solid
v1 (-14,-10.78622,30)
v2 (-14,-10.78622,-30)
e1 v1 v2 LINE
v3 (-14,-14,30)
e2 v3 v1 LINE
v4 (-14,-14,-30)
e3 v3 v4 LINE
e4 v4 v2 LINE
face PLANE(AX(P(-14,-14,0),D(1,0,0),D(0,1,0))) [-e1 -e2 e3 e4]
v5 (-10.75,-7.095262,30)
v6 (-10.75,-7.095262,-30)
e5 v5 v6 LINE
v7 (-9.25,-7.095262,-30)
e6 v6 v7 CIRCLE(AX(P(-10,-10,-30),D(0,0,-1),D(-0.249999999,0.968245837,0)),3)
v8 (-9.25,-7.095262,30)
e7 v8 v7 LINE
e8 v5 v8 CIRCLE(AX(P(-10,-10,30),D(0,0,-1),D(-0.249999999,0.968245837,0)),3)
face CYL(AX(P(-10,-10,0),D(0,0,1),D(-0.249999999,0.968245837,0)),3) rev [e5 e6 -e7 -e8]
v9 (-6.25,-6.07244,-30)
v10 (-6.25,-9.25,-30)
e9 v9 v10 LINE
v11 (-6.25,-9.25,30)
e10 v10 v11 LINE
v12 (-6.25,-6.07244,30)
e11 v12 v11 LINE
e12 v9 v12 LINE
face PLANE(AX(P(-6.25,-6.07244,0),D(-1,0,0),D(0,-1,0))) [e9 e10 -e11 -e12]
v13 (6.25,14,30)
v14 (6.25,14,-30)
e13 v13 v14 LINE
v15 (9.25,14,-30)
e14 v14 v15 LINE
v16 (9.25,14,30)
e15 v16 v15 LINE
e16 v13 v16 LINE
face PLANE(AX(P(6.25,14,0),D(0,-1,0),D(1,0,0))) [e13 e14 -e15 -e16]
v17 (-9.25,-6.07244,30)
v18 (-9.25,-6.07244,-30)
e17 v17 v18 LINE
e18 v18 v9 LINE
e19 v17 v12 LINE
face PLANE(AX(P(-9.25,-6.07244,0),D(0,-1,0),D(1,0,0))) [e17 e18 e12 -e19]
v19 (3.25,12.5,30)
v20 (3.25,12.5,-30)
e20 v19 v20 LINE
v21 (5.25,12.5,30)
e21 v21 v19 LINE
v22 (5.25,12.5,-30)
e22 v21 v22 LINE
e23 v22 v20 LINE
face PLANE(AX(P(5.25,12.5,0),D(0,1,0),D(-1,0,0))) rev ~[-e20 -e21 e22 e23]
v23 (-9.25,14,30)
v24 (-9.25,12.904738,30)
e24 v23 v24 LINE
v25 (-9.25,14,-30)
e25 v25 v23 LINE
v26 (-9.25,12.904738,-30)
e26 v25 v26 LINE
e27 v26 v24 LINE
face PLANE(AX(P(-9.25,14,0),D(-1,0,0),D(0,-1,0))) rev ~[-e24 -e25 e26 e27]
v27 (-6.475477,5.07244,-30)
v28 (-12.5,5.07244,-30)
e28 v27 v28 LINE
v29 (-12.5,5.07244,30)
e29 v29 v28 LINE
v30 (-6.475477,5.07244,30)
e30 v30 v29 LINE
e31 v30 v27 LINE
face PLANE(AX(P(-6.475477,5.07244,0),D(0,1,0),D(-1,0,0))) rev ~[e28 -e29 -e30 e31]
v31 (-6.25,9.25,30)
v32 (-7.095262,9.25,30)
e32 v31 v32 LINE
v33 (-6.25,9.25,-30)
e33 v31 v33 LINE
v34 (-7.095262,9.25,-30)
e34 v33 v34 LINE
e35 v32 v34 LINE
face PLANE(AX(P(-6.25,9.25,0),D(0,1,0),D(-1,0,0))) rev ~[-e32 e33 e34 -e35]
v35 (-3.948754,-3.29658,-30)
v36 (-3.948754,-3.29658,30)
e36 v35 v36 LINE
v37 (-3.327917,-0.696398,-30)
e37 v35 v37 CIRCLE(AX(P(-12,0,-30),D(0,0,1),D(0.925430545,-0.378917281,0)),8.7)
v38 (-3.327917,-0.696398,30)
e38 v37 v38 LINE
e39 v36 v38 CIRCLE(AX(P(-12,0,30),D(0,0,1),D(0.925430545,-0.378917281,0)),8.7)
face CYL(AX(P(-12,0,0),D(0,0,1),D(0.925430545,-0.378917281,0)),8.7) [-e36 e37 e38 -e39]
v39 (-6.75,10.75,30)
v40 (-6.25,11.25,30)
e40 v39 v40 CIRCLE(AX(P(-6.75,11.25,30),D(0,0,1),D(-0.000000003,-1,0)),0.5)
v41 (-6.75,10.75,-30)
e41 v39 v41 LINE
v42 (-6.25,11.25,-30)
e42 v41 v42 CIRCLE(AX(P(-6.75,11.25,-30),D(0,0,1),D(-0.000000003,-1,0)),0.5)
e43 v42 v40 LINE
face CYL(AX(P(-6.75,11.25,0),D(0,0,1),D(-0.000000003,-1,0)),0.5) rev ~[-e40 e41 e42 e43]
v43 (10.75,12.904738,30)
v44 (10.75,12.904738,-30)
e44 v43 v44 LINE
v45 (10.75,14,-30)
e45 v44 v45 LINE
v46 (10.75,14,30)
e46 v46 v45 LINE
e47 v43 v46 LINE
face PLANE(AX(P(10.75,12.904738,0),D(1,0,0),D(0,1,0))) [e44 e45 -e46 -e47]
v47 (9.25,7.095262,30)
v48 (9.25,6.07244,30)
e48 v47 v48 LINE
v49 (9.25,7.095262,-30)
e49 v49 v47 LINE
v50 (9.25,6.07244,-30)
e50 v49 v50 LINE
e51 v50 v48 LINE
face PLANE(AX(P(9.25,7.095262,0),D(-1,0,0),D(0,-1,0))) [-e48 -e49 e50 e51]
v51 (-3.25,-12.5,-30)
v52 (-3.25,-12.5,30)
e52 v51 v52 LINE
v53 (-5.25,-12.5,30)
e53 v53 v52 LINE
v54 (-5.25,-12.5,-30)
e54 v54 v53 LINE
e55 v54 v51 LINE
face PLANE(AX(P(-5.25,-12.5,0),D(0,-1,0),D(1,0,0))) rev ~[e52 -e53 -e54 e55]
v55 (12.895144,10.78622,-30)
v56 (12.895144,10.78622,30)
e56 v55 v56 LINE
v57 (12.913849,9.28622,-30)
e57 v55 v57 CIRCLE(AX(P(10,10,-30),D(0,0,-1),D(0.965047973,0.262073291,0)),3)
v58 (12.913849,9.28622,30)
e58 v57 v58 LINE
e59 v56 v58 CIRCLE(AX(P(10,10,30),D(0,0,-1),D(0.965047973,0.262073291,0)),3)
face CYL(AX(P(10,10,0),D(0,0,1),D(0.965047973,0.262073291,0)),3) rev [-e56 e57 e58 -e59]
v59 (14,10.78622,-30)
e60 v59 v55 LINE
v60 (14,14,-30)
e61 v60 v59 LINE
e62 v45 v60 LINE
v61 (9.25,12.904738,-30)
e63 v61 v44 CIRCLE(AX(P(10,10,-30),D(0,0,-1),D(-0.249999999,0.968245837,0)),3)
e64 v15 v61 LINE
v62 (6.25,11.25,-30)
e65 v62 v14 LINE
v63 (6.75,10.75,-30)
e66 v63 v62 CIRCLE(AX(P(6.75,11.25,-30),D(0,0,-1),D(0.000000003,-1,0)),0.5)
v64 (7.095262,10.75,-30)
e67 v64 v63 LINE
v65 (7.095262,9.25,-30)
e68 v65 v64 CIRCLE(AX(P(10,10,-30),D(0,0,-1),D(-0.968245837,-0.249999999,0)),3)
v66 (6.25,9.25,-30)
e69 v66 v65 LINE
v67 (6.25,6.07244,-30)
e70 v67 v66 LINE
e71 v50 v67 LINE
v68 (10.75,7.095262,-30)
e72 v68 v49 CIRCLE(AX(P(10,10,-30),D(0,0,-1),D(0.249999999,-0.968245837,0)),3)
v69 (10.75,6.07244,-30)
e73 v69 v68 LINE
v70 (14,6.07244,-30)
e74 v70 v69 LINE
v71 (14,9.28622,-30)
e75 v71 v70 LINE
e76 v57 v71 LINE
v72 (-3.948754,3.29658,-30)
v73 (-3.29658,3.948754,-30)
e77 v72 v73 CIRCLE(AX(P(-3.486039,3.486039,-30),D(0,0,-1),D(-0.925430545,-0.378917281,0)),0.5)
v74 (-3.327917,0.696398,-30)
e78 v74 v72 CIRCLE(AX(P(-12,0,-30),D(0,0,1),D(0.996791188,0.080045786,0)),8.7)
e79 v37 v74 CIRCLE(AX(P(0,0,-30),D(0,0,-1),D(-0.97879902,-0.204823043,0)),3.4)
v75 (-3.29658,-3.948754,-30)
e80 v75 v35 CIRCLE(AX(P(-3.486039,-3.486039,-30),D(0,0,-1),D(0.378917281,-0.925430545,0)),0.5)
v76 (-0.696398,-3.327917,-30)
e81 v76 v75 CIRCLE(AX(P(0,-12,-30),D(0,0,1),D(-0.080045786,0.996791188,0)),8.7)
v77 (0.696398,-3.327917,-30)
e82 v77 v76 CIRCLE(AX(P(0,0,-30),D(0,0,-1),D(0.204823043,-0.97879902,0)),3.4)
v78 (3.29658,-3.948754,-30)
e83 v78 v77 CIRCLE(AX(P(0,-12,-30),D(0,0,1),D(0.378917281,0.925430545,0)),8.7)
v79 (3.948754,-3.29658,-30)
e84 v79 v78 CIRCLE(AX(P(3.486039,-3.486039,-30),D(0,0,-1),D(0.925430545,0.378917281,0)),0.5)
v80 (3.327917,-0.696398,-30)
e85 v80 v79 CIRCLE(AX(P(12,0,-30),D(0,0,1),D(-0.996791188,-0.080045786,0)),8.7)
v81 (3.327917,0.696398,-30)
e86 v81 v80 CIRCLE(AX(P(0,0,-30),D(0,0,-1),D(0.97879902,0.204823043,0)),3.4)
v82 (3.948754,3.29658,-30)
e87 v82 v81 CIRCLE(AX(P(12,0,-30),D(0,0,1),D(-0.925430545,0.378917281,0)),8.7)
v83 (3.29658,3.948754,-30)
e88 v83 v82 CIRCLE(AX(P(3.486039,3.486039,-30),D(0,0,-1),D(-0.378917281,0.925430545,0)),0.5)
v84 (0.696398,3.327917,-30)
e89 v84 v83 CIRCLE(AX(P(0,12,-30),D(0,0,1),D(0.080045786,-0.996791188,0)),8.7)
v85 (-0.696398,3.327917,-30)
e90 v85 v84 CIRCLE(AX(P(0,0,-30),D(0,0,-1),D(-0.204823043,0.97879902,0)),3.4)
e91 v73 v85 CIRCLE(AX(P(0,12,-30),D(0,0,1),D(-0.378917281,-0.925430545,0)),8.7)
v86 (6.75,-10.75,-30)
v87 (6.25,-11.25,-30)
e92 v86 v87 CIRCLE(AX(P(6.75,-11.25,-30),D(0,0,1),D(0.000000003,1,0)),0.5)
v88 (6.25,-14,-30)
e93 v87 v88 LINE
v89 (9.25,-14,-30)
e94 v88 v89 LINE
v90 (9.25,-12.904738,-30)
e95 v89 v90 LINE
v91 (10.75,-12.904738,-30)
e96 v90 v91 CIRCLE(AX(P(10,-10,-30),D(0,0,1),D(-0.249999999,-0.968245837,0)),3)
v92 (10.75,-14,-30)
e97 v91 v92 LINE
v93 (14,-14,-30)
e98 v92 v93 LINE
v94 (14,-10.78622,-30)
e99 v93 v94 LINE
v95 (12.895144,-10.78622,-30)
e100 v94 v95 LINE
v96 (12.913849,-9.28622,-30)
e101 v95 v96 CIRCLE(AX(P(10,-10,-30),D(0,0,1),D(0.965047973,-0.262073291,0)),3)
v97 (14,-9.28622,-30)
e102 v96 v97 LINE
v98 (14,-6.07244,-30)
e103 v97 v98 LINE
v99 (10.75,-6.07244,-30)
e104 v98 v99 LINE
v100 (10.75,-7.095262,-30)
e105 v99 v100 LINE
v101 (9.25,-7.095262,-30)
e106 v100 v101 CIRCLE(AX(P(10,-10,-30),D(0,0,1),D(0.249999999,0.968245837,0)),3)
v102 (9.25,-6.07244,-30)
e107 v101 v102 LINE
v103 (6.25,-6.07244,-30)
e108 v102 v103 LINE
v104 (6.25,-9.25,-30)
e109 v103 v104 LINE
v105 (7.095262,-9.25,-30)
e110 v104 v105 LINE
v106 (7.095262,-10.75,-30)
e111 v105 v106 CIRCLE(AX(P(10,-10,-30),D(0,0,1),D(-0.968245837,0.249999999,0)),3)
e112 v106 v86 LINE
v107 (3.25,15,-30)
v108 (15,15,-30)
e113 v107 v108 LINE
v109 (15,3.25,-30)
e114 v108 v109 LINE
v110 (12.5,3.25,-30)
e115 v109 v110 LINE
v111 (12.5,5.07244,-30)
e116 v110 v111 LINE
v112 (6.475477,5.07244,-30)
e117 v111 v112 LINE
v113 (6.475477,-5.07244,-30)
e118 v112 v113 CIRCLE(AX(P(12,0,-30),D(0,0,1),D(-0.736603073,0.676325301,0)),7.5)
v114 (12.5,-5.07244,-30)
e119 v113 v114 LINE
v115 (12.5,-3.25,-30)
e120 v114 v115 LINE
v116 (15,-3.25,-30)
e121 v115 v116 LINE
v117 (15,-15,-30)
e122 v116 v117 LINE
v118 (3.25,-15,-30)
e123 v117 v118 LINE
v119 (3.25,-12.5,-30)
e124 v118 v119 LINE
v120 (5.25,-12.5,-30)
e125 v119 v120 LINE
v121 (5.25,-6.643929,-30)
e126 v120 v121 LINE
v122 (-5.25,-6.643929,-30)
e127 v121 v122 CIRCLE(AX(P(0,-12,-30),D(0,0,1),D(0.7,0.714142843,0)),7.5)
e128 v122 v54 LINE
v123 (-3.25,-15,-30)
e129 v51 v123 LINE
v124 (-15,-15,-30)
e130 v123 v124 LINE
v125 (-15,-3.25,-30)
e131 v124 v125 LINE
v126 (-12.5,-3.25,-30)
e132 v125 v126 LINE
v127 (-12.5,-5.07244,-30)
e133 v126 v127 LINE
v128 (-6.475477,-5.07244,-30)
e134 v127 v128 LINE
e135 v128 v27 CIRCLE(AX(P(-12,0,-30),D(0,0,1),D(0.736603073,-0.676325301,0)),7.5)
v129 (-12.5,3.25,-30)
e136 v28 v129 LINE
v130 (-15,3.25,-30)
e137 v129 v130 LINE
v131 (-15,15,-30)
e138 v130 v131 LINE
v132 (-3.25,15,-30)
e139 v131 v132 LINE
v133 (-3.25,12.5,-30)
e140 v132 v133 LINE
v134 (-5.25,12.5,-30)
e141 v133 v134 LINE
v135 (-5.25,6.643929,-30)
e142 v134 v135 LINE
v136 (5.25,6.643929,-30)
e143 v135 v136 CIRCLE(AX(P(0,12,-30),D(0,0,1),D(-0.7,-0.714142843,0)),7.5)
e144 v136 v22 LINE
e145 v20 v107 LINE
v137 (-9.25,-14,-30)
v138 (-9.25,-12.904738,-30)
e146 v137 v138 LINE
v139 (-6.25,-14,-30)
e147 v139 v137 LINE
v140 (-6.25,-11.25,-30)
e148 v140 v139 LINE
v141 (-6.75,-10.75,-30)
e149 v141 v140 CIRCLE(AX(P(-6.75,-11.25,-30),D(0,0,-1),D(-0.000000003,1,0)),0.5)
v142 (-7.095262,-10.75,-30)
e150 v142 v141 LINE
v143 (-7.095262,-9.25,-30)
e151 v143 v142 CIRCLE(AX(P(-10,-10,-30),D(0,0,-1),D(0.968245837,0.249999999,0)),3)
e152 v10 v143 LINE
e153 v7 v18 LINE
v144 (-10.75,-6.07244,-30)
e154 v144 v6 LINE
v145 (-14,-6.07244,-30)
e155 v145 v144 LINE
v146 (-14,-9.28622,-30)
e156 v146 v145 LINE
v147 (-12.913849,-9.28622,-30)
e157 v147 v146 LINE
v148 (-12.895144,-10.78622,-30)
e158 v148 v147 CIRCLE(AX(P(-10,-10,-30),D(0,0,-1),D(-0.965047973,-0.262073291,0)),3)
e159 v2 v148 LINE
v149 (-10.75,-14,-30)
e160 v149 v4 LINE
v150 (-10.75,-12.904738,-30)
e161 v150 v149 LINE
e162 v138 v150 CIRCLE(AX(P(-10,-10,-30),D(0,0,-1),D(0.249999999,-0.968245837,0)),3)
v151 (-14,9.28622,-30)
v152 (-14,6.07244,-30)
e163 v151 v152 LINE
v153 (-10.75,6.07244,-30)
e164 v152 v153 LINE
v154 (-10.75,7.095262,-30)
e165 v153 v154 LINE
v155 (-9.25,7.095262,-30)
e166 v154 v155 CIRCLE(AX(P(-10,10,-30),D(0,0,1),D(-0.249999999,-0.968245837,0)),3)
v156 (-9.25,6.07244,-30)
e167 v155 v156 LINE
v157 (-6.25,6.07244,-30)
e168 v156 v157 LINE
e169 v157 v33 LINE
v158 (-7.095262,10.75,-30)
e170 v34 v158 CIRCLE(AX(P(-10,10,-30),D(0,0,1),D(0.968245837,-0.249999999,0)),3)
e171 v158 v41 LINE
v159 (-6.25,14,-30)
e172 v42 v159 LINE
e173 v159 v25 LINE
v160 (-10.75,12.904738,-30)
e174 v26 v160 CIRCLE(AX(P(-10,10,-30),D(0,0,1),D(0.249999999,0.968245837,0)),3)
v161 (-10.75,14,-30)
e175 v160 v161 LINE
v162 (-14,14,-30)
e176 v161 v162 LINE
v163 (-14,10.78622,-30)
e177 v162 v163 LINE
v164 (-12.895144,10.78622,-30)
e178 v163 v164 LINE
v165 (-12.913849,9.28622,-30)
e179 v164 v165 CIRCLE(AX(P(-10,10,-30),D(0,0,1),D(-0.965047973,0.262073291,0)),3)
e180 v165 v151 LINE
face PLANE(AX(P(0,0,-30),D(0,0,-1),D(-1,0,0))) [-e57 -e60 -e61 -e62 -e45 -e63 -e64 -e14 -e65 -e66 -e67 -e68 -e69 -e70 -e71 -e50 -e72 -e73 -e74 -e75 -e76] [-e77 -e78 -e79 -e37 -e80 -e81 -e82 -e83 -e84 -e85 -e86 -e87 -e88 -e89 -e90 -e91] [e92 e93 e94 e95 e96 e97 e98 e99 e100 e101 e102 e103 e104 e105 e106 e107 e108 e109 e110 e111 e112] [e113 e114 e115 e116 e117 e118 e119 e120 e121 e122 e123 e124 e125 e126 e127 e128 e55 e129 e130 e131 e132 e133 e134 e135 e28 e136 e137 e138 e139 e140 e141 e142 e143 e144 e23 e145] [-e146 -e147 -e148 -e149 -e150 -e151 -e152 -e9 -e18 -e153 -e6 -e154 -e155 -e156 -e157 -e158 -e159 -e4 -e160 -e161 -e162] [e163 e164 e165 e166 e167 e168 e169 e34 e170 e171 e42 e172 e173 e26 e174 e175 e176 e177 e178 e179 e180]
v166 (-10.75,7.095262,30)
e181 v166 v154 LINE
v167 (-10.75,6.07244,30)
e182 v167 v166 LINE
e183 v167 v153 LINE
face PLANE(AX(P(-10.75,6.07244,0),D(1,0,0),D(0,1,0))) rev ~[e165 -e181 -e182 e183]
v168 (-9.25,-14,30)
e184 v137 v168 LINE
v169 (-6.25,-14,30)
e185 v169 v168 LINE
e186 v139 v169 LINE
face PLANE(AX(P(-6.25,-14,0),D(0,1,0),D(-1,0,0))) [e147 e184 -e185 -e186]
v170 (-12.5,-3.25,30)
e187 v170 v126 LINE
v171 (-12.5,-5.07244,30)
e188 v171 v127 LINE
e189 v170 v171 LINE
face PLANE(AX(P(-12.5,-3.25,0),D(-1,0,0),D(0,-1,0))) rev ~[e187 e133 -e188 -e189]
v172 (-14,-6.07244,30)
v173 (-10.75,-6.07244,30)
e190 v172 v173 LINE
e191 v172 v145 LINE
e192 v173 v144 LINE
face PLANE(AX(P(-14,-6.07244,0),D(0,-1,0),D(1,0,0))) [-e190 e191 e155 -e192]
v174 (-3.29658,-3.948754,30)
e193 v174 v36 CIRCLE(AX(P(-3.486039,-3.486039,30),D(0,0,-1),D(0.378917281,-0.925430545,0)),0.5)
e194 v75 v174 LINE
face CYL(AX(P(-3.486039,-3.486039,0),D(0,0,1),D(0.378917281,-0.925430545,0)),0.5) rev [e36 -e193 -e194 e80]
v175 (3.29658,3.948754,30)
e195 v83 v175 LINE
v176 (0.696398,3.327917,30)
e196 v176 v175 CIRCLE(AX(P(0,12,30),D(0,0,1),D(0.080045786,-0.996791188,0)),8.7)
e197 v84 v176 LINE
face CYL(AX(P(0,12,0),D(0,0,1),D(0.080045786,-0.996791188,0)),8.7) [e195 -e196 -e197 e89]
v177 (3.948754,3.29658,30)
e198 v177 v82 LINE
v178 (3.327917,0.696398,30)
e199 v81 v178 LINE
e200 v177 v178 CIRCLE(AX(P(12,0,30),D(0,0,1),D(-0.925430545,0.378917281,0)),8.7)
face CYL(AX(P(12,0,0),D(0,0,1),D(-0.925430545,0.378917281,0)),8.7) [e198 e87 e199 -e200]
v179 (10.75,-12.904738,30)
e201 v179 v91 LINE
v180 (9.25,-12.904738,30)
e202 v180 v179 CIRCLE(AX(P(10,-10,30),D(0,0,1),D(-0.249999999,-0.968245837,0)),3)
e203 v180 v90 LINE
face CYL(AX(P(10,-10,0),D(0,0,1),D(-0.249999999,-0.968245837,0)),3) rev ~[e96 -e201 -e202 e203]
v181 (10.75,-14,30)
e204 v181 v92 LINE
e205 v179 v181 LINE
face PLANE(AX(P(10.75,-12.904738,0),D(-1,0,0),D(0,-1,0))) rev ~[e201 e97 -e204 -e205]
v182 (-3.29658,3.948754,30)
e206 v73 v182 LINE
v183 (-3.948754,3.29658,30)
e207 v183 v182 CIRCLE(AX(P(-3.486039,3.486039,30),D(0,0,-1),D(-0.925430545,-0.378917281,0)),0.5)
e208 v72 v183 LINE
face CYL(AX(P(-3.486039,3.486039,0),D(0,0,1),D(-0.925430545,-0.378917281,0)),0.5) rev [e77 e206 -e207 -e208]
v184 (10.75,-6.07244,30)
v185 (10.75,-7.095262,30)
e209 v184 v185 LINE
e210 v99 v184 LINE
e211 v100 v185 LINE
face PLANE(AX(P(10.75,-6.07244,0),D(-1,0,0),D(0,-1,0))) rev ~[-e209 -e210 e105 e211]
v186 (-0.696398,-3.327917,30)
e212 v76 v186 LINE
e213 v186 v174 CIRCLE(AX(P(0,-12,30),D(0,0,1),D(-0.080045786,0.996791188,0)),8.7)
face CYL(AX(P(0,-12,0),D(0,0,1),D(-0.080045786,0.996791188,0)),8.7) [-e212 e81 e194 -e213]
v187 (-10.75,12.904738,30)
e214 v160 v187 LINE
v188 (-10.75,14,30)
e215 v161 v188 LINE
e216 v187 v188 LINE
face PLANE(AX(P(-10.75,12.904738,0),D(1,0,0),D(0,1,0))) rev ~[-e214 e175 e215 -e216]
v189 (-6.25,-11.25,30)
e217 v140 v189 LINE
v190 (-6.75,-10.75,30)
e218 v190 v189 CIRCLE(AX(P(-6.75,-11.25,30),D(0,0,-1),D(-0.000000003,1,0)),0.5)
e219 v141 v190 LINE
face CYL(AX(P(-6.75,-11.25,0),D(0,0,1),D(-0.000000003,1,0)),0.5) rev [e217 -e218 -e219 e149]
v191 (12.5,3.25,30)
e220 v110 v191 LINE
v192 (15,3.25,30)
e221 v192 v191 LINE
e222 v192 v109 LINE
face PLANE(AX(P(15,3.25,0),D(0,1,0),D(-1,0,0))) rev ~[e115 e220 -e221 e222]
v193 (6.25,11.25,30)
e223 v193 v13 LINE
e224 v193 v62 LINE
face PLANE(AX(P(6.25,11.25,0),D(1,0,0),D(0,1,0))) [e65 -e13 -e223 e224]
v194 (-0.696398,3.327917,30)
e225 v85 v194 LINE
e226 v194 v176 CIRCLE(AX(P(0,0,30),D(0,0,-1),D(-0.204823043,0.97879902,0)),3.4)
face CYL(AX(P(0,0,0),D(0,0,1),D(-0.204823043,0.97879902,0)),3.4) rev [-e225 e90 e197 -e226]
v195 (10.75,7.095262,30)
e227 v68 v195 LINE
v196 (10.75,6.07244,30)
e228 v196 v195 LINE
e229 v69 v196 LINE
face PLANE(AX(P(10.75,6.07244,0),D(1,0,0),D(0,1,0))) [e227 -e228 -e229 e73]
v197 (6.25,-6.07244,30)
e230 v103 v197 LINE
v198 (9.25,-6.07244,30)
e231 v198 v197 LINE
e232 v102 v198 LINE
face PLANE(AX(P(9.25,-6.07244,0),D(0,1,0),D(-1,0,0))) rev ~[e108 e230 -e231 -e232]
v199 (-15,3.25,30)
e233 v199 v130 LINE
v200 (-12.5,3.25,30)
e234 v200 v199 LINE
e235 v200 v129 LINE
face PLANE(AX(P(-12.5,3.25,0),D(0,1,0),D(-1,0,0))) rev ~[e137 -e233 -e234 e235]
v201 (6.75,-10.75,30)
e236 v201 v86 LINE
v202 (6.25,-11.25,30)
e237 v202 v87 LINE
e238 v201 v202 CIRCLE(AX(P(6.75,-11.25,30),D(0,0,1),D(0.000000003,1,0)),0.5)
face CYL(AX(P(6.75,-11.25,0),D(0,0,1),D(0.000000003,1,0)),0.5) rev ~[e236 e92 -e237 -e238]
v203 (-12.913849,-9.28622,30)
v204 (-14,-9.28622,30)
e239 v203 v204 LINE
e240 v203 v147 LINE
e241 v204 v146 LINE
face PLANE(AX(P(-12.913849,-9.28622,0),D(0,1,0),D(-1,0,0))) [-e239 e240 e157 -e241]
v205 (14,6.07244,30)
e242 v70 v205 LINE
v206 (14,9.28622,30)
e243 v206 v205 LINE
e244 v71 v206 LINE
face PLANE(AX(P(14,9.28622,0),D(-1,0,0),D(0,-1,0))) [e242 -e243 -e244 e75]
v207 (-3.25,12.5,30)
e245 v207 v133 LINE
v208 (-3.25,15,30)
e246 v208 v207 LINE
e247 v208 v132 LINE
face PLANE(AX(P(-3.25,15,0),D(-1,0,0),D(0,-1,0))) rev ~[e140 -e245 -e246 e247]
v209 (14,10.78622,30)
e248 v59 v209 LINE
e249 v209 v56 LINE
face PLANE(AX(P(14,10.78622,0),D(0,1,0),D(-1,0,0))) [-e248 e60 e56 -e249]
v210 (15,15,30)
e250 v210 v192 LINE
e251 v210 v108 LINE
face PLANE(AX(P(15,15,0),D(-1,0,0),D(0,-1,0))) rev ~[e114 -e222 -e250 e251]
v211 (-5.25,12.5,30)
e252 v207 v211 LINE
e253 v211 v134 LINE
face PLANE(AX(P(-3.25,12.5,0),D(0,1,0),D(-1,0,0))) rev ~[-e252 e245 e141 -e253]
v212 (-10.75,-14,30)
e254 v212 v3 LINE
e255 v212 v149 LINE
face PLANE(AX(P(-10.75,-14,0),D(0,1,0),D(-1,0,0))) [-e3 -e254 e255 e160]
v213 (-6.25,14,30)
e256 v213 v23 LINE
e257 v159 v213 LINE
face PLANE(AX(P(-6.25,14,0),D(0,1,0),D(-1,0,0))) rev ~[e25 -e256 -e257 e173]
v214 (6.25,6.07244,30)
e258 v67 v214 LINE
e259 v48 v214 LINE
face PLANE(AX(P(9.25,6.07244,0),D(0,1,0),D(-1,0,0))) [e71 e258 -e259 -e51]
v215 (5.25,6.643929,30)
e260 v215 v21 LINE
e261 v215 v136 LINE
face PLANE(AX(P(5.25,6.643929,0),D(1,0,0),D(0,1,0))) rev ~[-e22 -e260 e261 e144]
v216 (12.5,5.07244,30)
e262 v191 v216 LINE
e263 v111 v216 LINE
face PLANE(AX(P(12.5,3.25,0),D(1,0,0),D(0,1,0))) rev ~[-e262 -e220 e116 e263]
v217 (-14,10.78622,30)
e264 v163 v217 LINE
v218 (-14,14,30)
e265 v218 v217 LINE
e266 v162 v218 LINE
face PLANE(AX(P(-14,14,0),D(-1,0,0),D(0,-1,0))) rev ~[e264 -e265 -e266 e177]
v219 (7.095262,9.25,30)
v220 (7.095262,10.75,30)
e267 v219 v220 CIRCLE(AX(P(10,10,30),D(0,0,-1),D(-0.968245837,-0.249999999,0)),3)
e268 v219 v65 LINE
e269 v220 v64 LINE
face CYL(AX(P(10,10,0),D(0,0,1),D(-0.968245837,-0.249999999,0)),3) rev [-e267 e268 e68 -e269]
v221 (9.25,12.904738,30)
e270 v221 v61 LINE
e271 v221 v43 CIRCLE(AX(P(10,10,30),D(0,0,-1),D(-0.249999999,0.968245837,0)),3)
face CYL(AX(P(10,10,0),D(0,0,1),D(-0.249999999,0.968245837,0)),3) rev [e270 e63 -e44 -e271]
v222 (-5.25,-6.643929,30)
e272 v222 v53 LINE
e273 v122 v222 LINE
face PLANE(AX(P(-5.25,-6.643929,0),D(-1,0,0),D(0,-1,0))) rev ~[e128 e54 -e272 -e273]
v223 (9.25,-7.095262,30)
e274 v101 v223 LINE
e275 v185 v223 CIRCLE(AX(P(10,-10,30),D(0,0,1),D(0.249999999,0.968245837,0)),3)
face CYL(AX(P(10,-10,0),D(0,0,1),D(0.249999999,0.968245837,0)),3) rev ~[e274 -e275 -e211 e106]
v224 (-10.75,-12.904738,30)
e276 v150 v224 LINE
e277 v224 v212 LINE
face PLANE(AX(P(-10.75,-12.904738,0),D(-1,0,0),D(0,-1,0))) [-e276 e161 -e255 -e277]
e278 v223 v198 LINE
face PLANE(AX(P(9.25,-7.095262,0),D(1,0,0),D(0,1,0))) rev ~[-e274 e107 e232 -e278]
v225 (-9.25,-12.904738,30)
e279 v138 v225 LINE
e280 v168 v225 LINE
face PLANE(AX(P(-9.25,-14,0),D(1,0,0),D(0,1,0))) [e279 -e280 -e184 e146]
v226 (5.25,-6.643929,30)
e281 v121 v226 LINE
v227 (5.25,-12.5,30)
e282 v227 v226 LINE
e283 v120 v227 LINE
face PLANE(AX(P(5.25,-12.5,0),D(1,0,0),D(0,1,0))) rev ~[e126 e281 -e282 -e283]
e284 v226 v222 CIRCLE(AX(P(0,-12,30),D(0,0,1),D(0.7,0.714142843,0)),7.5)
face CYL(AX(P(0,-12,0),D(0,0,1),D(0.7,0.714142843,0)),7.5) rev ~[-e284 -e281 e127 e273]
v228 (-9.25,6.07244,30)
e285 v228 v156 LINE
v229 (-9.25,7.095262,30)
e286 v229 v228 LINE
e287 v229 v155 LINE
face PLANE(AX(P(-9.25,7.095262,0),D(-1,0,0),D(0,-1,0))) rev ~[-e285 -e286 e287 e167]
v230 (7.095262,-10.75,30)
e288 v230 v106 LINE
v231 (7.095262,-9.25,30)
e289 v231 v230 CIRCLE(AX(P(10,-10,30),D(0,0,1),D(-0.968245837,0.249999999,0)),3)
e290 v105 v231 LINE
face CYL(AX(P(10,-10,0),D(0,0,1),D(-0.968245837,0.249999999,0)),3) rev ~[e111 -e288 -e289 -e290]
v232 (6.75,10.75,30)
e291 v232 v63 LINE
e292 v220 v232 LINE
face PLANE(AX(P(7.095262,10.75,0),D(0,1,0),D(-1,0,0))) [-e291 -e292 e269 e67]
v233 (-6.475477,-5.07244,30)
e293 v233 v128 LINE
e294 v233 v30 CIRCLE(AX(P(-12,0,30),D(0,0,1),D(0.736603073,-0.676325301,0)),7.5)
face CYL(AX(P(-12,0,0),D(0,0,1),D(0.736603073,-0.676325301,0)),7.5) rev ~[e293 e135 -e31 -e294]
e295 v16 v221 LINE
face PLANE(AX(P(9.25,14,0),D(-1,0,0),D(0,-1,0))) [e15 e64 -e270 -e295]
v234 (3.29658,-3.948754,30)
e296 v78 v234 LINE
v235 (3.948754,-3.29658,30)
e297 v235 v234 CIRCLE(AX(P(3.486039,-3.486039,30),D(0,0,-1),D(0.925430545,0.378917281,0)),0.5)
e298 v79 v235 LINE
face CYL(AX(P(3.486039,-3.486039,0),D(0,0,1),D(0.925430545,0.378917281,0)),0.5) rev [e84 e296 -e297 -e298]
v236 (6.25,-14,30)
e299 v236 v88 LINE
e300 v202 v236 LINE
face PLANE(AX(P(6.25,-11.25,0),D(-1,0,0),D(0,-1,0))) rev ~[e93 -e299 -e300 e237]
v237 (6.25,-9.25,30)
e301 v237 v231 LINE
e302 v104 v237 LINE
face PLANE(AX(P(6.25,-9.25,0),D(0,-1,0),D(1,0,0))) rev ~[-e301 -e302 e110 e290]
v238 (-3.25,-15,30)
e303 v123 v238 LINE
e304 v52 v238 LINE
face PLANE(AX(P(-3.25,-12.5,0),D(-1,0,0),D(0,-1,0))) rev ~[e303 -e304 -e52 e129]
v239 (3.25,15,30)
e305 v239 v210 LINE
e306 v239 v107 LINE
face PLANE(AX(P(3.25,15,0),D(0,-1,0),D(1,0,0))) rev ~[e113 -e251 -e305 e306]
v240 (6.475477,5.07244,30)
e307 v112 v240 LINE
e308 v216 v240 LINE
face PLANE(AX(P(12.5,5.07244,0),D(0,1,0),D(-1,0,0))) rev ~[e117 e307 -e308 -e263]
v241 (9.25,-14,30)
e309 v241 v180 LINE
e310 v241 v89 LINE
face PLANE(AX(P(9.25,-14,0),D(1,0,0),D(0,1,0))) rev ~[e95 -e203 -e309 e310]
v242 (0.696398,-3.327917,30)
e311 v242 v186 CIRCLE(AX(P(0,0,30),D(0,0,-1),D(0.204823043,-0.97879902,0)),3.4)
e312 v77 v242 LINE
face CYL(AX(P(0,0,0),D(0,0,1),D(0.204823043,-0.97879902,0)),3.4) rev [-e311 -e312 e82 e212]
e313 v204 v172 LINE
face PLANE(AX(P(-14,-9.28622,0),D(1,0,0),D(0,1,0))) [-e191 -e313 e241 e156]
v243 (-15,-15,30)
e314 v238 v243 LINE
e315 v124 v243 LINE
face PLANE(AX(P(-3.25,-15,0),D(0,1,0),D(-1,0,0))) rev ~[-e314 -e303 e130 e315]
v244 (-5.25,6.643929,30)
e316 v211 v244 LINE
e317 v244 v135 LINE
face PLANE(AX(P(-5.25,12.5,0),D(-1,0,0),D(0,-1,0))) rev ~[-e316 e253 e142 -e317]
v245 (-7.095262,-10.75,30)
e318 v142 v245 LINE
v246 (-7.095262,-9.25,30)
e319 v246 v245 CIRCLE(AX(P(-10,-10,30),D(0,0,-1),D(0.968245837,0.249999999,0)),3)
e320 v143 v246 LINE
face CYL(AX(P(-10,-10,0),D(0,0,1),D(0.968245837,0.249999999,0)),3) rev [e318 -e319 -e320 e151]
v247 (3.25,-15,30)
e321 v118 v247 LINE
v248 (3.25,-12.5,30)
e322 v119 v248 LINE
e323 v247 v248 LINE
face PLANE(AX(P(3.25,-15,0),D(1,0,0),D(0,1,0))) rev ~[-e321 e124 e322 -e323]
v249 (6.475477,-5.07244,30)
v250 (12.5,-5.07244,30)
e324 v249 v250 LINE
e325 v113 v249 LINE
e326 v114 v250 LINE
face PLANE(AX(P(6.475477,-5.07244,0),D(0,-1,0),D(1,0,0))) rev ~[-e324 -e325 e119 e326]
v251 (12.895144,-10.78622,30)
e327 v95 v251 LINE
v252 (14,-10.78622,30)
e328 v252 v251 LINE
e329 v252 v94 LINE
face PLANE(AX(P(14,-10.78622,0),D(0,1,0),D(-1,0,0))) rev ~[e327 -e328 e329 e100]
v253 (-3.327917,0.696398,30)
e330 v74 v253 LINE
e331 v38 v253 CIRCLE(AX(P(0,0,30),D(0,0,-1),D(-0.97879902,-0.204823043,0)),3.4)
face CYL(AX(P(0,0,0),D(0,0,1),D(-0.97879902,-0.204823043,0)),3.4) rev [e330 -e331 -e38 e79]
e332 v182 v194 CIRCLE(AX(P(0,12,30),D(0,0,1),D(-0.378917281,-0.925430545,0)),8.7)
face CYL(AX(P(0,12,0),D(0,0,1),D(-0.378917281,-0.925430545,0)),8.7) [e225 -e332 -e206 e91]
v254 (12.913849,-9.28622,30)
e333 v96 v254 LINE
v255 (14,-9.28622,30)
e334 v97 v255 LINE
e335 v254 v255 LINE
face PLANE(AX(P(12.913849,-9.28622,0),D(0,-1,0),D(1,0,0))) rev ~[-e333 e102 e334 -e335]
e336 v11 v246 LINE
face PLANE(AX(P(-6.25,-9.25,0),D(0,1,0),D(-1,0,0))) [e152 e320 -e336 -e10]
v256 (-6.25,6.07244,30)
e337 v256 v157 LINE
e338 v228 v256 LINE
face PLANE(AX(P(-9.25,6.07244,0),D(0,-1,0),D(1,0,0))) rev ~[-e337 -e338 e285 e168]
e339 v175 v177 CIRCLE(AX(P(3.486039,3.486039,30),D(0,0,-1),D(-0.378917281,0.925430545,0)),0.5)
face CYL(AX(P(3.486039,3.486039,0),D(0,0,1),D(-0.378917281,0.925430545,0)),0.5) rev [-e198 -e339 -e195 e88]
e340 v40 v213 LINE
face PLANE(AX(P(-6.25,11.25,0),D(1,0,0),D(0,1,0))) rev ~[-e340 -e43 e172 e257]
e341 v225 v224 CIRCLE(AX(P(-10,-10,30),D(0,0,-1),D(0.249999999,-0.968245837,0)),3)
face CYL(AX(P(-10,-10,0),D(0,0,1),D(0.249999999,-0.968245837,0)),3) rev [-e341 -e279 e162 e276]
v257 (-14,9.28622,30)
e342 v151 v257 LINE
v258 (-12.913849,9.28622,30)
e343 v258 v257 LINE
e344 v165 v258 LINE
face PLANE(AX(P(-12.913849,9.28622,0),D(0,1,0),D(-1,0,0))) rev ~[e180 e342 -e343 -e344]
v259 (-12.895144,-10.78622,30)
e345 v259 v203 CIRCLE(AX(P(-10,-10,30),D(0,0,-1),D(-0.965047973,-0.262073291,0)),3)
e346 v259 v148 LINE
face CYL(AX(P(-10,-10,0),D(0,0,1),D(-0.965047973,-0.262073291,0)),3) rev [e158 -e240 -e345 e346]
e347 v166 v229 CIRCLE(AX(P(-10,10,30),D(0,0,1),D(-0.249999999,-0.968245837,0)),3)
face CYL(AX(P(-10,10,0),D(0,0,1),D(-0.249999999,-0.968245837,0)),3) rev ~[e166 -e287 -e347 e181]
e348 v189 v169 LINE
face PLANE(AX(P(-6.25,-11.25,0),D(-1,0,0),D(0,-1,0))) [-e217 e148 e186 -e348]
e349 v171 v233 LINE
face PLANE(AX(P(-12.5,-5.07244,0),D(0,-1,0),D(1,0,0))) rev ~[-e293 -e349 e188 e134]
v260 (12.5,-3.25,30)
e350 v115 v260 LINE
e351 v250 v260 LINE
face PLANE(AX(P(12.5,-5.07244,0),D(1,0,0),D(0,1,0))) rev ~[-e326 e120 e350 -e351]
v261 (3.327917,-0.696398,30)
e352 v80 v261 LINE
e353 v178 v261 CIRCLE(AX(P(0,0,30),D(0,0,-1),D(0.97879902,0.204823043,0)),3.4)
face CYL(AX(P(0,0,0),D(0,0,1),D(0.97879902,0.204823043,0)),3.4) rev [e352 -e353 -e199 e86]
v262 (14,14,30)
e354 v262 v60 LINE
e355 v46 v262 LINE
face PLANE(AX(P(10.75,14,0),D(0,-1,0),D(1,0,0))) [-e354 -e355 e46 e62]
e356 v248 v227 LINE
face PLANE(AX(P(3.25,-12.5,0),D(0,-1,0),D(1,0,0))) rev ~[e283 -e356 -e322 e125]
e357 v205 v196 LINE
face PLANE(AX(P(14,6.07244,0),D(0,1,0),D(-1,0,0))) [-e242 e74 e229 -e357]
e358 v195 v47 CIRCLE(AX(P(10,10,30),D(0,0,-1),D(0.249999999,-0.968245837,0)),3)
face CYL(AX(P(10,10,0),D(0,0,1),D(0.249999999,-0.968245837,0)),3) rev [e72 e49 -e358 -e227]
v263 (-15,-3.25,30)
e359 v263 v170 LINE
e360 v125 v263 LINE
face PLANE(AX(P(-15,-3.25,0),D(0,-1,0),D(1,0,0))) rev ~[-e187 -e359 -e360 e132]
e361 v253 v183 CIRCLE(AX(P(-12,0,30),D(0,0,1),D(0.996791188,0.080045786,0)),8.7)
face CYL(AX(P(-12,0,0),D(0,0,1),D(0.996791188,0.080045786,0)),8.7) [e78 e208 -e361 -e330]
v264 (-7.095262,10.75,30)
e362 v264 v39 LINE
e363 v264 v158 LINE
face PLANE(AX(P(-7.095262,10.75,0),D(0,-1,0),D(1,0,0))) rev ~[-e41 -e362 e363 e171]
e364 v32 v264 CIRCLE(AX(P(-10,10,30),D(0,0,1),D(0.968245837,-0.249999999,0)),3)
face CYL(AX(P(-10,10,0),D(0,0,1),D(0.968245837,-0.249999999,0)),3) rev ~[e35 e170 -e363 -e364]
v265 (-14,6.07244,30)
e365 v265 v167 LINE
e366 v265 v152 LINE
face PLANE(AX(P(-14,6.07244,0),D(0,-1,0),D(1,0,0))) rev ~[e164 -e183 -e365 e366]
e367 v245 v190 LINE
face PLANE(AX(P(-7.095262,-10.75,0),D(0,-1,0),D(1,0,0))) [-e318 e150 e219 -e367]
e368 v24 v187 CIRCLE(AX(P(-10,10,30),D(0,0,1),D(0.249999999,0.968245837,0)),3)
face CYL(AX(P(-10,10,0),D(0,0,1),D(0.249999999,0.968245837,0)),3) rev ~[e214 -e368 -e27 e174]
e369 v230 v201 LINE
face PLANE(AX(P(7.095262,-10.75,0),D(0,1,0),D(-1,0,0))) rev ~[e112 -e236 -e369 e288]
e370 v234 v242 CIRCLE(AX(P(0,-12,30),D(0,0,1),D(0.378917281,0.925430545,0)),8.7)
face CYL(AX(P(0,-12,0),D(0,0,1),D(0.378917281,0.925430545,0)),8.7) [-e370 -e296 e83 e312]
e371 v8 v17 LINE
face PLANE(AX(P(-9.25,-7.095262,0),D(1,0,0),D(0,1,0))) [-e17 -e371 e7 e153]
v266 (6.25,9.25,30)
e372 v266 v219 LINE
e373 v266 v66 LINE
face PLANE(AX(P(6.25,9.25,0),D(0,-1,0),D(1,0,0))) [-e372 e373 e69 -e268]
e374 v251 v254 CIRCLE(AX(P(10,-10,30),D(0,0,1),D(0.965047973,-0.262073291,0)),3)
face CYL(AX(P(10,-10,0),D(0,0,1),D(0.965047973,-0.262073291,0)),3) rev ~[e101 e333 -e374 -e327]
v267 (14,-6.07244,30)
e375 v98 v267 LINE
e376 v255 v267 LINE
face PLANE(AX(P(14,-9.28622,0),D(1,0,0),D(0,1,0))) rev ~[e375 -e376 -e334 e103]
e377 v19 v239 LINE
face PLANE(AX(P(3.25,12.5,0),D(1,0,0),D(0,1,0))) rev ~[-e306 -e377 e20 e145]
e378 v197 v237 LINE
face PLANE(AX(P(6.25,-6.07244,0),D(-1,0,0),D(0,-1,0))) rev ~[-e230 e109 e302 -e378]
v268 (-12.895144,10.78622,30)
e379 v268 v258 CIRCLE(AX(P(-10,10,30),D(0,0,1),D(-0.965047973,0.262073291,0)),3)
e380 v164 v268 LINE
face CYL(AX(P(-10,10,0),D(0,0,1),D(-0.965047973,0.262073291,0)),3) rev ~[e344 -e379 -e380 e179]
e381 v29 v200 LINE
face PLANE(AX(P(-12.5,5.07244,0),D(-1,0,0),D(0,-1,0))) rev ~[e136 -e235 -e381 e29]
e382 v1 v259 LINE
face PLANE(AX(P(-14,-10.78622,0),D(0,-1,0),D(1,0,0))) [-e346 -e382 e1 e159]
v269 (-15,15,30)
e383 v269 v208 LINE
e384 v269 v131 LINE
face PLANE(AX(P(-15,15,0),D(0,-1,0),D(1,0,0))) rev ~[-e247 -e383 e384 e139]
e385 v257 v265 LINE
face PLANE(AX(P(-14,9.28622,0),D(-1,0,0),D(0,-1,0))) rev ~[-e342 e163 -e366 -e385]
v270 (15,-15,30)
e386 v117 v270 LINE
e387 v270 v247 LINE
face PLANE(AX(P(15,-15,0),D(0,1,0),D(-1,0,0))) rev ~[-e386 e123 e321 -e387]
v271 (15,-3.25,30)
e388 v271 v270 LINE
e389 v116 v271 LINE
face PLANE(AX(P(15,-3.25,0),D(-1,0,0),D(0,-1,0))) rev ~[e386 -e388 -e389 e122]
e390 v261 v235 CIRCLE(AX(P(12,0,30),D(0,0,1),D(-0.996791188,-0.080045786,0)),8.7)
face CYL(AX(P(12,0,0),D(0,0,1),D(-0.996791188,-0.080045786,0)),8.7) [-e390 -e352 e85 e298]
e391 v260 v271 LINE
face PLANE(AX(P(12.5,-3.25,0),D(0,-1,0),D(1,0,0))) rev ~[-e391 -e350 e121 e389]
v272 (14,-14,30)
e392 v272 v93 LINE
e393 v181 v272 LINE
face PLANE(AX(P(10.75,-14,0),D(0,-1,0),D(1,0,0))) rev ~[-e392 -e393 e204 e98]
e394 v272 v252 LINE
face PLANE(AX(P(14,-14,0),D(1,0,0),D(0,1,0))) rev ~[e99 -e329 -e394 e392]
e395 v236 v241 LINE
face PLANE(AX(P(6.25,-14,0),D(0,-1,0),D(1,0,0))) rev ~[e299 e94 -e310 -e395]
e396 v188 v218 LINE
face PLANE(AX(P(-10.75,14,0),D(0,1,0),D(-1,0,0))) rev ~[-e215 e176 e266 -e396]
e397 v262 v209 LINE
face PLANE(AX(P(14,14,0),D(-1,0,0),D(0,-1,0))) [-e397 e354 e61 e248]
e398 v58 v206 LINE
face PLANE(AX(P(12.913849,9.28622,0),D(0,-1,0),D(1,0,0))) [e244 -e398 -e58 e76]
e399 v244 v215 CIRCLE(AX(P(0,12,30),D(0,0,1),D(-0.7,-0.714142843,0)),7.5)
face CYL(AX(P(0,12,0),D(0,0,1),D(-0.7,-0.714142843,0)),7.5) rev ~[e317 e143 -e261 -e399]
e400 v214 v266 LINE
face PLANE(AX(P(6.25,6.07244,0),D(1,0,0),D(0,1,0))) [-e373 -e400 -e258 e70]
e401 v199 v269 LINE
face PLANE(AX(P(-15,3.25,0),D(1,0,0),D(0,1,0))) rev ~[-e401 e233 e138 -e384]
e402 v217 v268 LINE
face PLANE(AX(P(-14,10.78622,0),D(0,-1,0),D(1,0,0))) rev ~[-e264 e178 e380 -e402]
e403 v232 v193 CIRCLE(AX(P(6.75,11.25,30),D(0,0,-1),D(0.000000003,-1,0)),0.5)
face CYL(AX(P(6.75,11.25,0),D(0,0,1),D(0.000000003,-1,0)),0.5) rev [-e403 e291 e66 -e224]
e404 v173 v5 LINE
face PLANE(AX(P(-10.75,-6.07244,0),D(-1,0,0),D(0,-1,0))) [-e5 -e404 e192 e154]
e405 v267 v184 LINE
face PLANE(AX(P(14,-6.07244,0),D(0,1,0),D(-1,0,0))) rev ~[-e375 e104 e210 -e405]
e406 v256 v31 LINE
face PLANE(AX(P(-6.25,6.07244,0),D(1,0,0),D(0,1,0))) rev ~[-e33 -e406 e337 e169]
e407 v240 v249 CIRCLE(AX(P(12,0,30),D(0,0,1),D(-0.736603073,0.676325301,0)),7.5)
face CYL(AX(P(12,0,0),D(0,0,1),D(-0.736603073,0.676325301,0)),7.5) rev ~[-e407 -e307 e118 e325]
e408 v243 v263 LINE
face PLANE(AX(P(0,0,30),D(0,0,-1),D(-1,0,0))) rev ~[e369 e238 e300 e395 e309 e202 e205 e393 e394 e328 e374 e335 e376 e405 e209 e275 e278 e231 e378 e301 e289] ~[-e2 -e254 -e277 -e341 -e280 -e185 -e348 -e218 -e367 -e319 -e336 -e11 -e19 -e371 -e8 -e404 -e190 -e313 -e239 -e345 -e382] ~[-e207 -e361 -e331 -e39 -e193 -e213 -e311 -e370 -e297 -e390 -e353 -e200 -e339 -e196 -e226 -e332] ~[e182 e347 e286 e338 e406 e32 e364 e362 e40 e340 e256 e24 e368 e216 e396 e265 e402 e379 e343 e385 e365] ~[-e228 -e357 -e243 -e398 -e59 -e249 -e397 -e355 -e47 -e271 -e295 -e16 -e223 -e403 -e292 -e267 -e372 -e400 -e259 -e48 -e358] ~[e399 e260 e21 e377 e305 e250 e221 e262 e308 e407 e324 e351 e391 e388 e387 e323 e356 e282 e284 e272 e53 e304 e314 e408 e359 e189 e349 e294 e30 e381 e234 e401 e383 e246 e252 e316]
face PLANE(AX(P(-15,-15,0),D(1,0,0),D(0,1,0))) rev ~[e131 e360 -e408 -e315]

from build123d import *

# Parameters (mm, degrees)
EXTRUDE_1_DEPTH = 30


with BuildPart() as part:
    # 草圖1 → 擠出1 (new, symmetric)
    with BuildSketch(Plane.XY):
        with BuildLine():
            Line((-15, -3.25), (-12.5, -3.25))
            Line((-12.5, -3.25), (-12.5, -5.072439755))
            Line((-12.5, -5.072439755), (-6.47547695, -5.072439755))
            ThreePointArc((-6.47547695, -5.072439755), (-4.5, 0), (-6.47547695, 5.072439755))
            Line((-6.47547695, 5.072439755), (-12.5, 5.072439755))
            Line((-12.5, 5.072439755), (-12.5, 3.25))
            Line((-12.5, 3.25), (-15, 3.25))
            Line((-15, 3.25), (-15, 15))
            Line((-15, 15), (-3.25, 15))
            Line((-3.25, 15), (-3.25, 12.5))
            Line((-3.25, 12.5), (-5.25, 12.5))
            Line((-5.25, 12.5), (-5.25, 6.643928679))
            ThreePointArc((-5.25, 6.643928679), (0, 4.5), (5.25, 6.643928679))
            Line((5.25, 6.643928679), (5.25, 12.5))
            Line((5.25, 12.5), (3.25, 12.5))
            Line((3.25, 12.5), (3.25, 15))
            Line((3.25, 15), (15, 15))
            Line((15, 15), (15, 3.25))
            Line((15, 3.25), (12.5, 3.25))
            Line((12.5, 3.25), (12.5, 5.072439755))
            Line((12.5, 5.072439755), (6.47547695, 5.072439755))
            ThreePointArc((6.47547695, 5.072439755), (4.5, 0), (6.47547695, -5.072439755))
            Line((6.47547695, -5.072439755), (12.5, -5.072439755))
            Line((12.5, -5.072439755), (12.5, -3.25))
            Line((12.5, -3.25), (15, -3.25))
            Line((15, -3.25), (15, -15))
            Line((15, -15), (3.25, -15))
            Line((3.25, -15), (3.25, -12.5))
            Line((3.25, -12.5), (5.25, -12.5))
            Line((5.25, -12.5), (5.25, -6.643928679))
            ThreePointArc((5.25, -6.643928679), (0, -4.5), (-5.25, -6.643928679))
            Line((-5.25, -6.643928679), (-5.25, -12.5))
            Line((-5.25, -12.5), (-3.25, -12.5))
            Line((-3.25, -12.5), (-3.25, -15))
            Line((-3.25, -15), (-15, -15))
            Line((-15, -15), (-15, -3.25))
        make_face()
        with BuildLine():
            Line((-9.25, -6.072439755), (-6.25, -6.072439755))
            Line((-6.25, -6.072439755), (-6.25, -9.25))
            Line((-6.25, -9.25), (-7.09526249, -9.25))
            ThreePointArc((-7.09526249, -9.25), (-7, -10), (-7.09526249, -10.75))
            Line((-7.09526249, -10.75), (-6.75, -10.75))
            ThreePointArc((-6.75, -10.75), (-6.396446609, -10.896446609), (-6.25, -11.25))
            Line((-6.25, -11.25), (-6.25, -14))
            Line((-6.25, -14), (-9.25, -14))
            Line((-9.25, -14), (-9.25, -12.90473751))
            ThreePointArc((-9.25, -12.90473751), (-10, -13), (-10.75, -12.90473751))
            Line((-10.75, -12.90473751), (-10.75, -14))
            Line((-10.75, -14), (-14, -14))
            Line((-14, -14), (-14, -10.786219878))
            Line((-14, -10.786219878), (-12.895143918, -10.786219878))
            ThreePointArc((-12.895143918, -10.786219878), (-12.999766765, -10.037407923), (-12.913849333, -9.286219878))
            Line((-12.913849333, -9.286219878), (-14, -9.286219878))
            Line((-14, -9.286219878), (-14, -6.072439755))
            Line((-14, -6.072439755), (-10.75, -6.072439755))
            Line((-10.75, -6.072439755), (-10.75, -7.09526249))
            ThreePointArc((-10.75, -7.09526249), (-10, -7), (-9.25, -7.09526249))
            Line((-9.25, -7.09526249), (-9.25, -6.072439755))
        make_face(mode=Mode.SUBTRACT)
        with BuildLine():
            Line((-14, 6.072439755), (-10.75, 6.072439755))
            Line((-10.75, 6.072439755), (-10.75, 7.09526249))
            ThreePointArc((-10.75, 7.09526249), (-10, 7), (-9.25, 7.09526249))
            Line((-9.25, 7.09526249), (-9.25, 6.072439755))
            Line((-9.25, 6.072439755), (-6.25, 6.072439755))
            Line((-6.25, 6.072439755), (-6.25, 9.25))
            Line((-6.25, 9.25), (-7.09526249, 9.25))
            ThreePointArc((-7.09526249, 9.25), (-7, 10), (-7.09526249, 10.75))
            Line((-7.09526249, 10.75), (-6.75, 10.75))
            ThreePointArc((-6.75, 10.75), (-6.396446609, 10.896446609), (-6.25, 11.25))
            Line((-6.25, 11.25), (-6.25, 14))
            Line((-6.25, 14), (-9.25, 14))
            Line((-9.25, 14), (-9.25, 12.90473751))
            ThreePointArc((-9.25, 12.90473751), (-10, 13), (-10.75, 12.90473751))
            Line((-10.75, 12.90473751), (-10.75, 14))
            Line((-10.75, 14), (-14, 14))
            Line((-14, 14), (-14, 10.786219878))
            Line((-14, 10.786219878), (-12.895143918, 10.786219878))
            ThreePointArc((-12.895143918, 10.786219878), (-12.999766765, 10.037407923), (-12.913849333, 9.286219878))
            Line((-12.913849333, 9.286219878), (-14, 9.286219878))
            Line((-14, 9.286219878), (-14, 6.072439755))
        make_face(mode=Mode.SUBTRACT)
        with BuildLine():
            Line((14, 14), (14, 10.786219878))
            Line((14, 10.786219878), (12.895143918, 10.786219878))
            ThreePointArc((12.895143918, 10.786219878), (12.999766765, 10.037407923), (12.913849333, 9.286219878))
            Line((12.913849333, 9.286219878), (14, 9.286219878))
            Line((14, 9.286219878), (14, 6.072439755))
            Line((14, 6.072439755), (10.75, 6.072439755))
            Line((10.75, 6.072439755), (10.75, 7.09526249))
            ThreePointArc((10.75, 7.09526249), (10, 7), (9.25, 7.09526249))
            Line((9.25, 7.09526249), (9.25, 6.072439755))
            Line((9.25, 6.072439755), (6.25, 6.072439755))
            Line((6.25, 6.072439755), (6.25, 9.25))
            Line((6.25, 9.25), (7.09526249, 9.25))
            ThreePointArc((7.09526249, 9.25), (7, 10), (7.09526249, 10.75))
            Line((7.09526249, 10.75), (6.75, 10.75))
            ThreePointArc((6.75, 10.75), (6.396446609, 10.896446609), (6.25, 11.25))
            Line((6.25, 11.25), (6.25, 14))
            Line((6.25, 14), (9.25, 14))
            Line((9.25, 14), (9.25, 12.90473751))
            ThreePointArc((9.25, 12.90473751), (10, 13), (10.75, 12.90473751))
            Line((10.75, 12.90473751), (10.75, 14))
            Line((10.75, 14), (14, 14))
        make_face(mode=Mode.SUBTRACT)
        with BuildLine():
            Line((7.09526249, -10.75), (6.75, -10.75))
            ThreePointArc((6.75, -10.75), (6.396446609, -10.896446609), (6.25, -11.25))
            Line((6.25, -11.25), (6.25, -14))
            Line((6.25, -14), (9.25, -14))
            Line((9.25, -14), (9.25, -12.90473751))
            ThreePointArc((9.25, -12.90473751), (10, -13), (10.75, -12.90473751))
            Line((10.75, -12.90473751), (10.75, -14))
            Line((10.75, -14), (14, -14))
            Line((14, -14), (14, -10.786219878))
            Line((14, -10.786219878), (12.895143918, -10.786219878))
            ThreePointArc((12.895143918, -10.786219878), (12.999766765, -10.037407923), (12.913849333, -9.286219878))
            Line((12.913849333, -9.286219878), (14, -9.286219878))
            Line((14, -9.286219878), (14, -6.072439755))
            Line((14, -6.072439755), (10.75, -6.072439755))
            Line((10.75, -6.072439755), (10.75, -7.09526249))
            ThreePointArc((10.75, -7.09526249), (10, -7), (9.25, -7.09526249))
            Line((9.25, -7.09526249), (9.25, -6.072439755))
            Line((9.25, -6.072439755), (6.25, -6.072439755))
            Line((6.25, -6.072439755), (6.25, -9.25))
            Line((6.25, -9.25), (7.09526249, -9.25))
            ThreePointArc((7.09526249, -9.25), (7, -10), (7.09526249, -10.75))
        make_face(mode=Mode.SUBTRACT)
        with BuildLine():
            ThreePointArc((3.948754255, 3.296580342), (3.537868444, 2.020477551), (3.327916667, 0.696398348))
            ThreePointArc((3.327916667, 0.696398348), (3.4, 0), (3.327916667, -0.696398348))
            ThreePointArc((3.327916667, -0.696398348), (3.537868444, -2.020477551), (3.948754255, -3.296580342))
            ThreePointArc((3.948754255, -3.296580342), (3.839592373, -3.839592373), (3.296580342, -3.948754255))
            ThreePointArc((3.296580342, -3.948754255), (2.020477551, -3.537868444), (0.696398348, -3.327916667))
            ThreePointArc((0.696398348, -3.327916667), (0, -3.4), (-0.696398348, -3.327916667))
            ThreePointArc((-0.696398348, -3.327916667), (-2.020477551, -3.537868444), (-3.296580342, -3.948754255))
            ThreePointArc((-3.296580342, -3.948754255), (-3.839592373, -3.839592373), (-3.948754255, -3.296580342))
            ThreePointArc((-3.948754255, -3.296580342), (-3.537868444, -2.020477551), (-3.327916667, -0.696398348))
            ThreePointArc((-3.327916667, -0.696398348), (-3.4, 0), (-3.327916667, 0.696398348))
            ThreePointArc((-3.327916667, 0.696398348), (-3.537868444, 2.020477551), (-3.948754255, 3.296580342))
            ThreePointArc((-3.948754255, 3.296580342), (-3.839592373, 3.839592373), (-3.296580342, 3.948754255))
            ThreePointArc((-3.296580342, 3.948754255), (-2.020477551, 3.537868444), (-0.696398348, 3.327916667))
            ThreePointArc((-0.696398348, 3.327916667), (0, 3.4), (0.696398348, 3.327916667))
            ThreePointArc((0.696398348, 3.327916667), (2.020477551, 3.537868444), (3.296580342, 3.948754255))
            ThreePointArc((3.296580342, 3.948754255), (3.839592373, 3.839592373), (3.948754255, 3.296580342))
        make_face(mode=Mode.SUBTRACT)
    extrude(amount=EXTRUDE_1_DEPTH, both=True)


solid = part.part
